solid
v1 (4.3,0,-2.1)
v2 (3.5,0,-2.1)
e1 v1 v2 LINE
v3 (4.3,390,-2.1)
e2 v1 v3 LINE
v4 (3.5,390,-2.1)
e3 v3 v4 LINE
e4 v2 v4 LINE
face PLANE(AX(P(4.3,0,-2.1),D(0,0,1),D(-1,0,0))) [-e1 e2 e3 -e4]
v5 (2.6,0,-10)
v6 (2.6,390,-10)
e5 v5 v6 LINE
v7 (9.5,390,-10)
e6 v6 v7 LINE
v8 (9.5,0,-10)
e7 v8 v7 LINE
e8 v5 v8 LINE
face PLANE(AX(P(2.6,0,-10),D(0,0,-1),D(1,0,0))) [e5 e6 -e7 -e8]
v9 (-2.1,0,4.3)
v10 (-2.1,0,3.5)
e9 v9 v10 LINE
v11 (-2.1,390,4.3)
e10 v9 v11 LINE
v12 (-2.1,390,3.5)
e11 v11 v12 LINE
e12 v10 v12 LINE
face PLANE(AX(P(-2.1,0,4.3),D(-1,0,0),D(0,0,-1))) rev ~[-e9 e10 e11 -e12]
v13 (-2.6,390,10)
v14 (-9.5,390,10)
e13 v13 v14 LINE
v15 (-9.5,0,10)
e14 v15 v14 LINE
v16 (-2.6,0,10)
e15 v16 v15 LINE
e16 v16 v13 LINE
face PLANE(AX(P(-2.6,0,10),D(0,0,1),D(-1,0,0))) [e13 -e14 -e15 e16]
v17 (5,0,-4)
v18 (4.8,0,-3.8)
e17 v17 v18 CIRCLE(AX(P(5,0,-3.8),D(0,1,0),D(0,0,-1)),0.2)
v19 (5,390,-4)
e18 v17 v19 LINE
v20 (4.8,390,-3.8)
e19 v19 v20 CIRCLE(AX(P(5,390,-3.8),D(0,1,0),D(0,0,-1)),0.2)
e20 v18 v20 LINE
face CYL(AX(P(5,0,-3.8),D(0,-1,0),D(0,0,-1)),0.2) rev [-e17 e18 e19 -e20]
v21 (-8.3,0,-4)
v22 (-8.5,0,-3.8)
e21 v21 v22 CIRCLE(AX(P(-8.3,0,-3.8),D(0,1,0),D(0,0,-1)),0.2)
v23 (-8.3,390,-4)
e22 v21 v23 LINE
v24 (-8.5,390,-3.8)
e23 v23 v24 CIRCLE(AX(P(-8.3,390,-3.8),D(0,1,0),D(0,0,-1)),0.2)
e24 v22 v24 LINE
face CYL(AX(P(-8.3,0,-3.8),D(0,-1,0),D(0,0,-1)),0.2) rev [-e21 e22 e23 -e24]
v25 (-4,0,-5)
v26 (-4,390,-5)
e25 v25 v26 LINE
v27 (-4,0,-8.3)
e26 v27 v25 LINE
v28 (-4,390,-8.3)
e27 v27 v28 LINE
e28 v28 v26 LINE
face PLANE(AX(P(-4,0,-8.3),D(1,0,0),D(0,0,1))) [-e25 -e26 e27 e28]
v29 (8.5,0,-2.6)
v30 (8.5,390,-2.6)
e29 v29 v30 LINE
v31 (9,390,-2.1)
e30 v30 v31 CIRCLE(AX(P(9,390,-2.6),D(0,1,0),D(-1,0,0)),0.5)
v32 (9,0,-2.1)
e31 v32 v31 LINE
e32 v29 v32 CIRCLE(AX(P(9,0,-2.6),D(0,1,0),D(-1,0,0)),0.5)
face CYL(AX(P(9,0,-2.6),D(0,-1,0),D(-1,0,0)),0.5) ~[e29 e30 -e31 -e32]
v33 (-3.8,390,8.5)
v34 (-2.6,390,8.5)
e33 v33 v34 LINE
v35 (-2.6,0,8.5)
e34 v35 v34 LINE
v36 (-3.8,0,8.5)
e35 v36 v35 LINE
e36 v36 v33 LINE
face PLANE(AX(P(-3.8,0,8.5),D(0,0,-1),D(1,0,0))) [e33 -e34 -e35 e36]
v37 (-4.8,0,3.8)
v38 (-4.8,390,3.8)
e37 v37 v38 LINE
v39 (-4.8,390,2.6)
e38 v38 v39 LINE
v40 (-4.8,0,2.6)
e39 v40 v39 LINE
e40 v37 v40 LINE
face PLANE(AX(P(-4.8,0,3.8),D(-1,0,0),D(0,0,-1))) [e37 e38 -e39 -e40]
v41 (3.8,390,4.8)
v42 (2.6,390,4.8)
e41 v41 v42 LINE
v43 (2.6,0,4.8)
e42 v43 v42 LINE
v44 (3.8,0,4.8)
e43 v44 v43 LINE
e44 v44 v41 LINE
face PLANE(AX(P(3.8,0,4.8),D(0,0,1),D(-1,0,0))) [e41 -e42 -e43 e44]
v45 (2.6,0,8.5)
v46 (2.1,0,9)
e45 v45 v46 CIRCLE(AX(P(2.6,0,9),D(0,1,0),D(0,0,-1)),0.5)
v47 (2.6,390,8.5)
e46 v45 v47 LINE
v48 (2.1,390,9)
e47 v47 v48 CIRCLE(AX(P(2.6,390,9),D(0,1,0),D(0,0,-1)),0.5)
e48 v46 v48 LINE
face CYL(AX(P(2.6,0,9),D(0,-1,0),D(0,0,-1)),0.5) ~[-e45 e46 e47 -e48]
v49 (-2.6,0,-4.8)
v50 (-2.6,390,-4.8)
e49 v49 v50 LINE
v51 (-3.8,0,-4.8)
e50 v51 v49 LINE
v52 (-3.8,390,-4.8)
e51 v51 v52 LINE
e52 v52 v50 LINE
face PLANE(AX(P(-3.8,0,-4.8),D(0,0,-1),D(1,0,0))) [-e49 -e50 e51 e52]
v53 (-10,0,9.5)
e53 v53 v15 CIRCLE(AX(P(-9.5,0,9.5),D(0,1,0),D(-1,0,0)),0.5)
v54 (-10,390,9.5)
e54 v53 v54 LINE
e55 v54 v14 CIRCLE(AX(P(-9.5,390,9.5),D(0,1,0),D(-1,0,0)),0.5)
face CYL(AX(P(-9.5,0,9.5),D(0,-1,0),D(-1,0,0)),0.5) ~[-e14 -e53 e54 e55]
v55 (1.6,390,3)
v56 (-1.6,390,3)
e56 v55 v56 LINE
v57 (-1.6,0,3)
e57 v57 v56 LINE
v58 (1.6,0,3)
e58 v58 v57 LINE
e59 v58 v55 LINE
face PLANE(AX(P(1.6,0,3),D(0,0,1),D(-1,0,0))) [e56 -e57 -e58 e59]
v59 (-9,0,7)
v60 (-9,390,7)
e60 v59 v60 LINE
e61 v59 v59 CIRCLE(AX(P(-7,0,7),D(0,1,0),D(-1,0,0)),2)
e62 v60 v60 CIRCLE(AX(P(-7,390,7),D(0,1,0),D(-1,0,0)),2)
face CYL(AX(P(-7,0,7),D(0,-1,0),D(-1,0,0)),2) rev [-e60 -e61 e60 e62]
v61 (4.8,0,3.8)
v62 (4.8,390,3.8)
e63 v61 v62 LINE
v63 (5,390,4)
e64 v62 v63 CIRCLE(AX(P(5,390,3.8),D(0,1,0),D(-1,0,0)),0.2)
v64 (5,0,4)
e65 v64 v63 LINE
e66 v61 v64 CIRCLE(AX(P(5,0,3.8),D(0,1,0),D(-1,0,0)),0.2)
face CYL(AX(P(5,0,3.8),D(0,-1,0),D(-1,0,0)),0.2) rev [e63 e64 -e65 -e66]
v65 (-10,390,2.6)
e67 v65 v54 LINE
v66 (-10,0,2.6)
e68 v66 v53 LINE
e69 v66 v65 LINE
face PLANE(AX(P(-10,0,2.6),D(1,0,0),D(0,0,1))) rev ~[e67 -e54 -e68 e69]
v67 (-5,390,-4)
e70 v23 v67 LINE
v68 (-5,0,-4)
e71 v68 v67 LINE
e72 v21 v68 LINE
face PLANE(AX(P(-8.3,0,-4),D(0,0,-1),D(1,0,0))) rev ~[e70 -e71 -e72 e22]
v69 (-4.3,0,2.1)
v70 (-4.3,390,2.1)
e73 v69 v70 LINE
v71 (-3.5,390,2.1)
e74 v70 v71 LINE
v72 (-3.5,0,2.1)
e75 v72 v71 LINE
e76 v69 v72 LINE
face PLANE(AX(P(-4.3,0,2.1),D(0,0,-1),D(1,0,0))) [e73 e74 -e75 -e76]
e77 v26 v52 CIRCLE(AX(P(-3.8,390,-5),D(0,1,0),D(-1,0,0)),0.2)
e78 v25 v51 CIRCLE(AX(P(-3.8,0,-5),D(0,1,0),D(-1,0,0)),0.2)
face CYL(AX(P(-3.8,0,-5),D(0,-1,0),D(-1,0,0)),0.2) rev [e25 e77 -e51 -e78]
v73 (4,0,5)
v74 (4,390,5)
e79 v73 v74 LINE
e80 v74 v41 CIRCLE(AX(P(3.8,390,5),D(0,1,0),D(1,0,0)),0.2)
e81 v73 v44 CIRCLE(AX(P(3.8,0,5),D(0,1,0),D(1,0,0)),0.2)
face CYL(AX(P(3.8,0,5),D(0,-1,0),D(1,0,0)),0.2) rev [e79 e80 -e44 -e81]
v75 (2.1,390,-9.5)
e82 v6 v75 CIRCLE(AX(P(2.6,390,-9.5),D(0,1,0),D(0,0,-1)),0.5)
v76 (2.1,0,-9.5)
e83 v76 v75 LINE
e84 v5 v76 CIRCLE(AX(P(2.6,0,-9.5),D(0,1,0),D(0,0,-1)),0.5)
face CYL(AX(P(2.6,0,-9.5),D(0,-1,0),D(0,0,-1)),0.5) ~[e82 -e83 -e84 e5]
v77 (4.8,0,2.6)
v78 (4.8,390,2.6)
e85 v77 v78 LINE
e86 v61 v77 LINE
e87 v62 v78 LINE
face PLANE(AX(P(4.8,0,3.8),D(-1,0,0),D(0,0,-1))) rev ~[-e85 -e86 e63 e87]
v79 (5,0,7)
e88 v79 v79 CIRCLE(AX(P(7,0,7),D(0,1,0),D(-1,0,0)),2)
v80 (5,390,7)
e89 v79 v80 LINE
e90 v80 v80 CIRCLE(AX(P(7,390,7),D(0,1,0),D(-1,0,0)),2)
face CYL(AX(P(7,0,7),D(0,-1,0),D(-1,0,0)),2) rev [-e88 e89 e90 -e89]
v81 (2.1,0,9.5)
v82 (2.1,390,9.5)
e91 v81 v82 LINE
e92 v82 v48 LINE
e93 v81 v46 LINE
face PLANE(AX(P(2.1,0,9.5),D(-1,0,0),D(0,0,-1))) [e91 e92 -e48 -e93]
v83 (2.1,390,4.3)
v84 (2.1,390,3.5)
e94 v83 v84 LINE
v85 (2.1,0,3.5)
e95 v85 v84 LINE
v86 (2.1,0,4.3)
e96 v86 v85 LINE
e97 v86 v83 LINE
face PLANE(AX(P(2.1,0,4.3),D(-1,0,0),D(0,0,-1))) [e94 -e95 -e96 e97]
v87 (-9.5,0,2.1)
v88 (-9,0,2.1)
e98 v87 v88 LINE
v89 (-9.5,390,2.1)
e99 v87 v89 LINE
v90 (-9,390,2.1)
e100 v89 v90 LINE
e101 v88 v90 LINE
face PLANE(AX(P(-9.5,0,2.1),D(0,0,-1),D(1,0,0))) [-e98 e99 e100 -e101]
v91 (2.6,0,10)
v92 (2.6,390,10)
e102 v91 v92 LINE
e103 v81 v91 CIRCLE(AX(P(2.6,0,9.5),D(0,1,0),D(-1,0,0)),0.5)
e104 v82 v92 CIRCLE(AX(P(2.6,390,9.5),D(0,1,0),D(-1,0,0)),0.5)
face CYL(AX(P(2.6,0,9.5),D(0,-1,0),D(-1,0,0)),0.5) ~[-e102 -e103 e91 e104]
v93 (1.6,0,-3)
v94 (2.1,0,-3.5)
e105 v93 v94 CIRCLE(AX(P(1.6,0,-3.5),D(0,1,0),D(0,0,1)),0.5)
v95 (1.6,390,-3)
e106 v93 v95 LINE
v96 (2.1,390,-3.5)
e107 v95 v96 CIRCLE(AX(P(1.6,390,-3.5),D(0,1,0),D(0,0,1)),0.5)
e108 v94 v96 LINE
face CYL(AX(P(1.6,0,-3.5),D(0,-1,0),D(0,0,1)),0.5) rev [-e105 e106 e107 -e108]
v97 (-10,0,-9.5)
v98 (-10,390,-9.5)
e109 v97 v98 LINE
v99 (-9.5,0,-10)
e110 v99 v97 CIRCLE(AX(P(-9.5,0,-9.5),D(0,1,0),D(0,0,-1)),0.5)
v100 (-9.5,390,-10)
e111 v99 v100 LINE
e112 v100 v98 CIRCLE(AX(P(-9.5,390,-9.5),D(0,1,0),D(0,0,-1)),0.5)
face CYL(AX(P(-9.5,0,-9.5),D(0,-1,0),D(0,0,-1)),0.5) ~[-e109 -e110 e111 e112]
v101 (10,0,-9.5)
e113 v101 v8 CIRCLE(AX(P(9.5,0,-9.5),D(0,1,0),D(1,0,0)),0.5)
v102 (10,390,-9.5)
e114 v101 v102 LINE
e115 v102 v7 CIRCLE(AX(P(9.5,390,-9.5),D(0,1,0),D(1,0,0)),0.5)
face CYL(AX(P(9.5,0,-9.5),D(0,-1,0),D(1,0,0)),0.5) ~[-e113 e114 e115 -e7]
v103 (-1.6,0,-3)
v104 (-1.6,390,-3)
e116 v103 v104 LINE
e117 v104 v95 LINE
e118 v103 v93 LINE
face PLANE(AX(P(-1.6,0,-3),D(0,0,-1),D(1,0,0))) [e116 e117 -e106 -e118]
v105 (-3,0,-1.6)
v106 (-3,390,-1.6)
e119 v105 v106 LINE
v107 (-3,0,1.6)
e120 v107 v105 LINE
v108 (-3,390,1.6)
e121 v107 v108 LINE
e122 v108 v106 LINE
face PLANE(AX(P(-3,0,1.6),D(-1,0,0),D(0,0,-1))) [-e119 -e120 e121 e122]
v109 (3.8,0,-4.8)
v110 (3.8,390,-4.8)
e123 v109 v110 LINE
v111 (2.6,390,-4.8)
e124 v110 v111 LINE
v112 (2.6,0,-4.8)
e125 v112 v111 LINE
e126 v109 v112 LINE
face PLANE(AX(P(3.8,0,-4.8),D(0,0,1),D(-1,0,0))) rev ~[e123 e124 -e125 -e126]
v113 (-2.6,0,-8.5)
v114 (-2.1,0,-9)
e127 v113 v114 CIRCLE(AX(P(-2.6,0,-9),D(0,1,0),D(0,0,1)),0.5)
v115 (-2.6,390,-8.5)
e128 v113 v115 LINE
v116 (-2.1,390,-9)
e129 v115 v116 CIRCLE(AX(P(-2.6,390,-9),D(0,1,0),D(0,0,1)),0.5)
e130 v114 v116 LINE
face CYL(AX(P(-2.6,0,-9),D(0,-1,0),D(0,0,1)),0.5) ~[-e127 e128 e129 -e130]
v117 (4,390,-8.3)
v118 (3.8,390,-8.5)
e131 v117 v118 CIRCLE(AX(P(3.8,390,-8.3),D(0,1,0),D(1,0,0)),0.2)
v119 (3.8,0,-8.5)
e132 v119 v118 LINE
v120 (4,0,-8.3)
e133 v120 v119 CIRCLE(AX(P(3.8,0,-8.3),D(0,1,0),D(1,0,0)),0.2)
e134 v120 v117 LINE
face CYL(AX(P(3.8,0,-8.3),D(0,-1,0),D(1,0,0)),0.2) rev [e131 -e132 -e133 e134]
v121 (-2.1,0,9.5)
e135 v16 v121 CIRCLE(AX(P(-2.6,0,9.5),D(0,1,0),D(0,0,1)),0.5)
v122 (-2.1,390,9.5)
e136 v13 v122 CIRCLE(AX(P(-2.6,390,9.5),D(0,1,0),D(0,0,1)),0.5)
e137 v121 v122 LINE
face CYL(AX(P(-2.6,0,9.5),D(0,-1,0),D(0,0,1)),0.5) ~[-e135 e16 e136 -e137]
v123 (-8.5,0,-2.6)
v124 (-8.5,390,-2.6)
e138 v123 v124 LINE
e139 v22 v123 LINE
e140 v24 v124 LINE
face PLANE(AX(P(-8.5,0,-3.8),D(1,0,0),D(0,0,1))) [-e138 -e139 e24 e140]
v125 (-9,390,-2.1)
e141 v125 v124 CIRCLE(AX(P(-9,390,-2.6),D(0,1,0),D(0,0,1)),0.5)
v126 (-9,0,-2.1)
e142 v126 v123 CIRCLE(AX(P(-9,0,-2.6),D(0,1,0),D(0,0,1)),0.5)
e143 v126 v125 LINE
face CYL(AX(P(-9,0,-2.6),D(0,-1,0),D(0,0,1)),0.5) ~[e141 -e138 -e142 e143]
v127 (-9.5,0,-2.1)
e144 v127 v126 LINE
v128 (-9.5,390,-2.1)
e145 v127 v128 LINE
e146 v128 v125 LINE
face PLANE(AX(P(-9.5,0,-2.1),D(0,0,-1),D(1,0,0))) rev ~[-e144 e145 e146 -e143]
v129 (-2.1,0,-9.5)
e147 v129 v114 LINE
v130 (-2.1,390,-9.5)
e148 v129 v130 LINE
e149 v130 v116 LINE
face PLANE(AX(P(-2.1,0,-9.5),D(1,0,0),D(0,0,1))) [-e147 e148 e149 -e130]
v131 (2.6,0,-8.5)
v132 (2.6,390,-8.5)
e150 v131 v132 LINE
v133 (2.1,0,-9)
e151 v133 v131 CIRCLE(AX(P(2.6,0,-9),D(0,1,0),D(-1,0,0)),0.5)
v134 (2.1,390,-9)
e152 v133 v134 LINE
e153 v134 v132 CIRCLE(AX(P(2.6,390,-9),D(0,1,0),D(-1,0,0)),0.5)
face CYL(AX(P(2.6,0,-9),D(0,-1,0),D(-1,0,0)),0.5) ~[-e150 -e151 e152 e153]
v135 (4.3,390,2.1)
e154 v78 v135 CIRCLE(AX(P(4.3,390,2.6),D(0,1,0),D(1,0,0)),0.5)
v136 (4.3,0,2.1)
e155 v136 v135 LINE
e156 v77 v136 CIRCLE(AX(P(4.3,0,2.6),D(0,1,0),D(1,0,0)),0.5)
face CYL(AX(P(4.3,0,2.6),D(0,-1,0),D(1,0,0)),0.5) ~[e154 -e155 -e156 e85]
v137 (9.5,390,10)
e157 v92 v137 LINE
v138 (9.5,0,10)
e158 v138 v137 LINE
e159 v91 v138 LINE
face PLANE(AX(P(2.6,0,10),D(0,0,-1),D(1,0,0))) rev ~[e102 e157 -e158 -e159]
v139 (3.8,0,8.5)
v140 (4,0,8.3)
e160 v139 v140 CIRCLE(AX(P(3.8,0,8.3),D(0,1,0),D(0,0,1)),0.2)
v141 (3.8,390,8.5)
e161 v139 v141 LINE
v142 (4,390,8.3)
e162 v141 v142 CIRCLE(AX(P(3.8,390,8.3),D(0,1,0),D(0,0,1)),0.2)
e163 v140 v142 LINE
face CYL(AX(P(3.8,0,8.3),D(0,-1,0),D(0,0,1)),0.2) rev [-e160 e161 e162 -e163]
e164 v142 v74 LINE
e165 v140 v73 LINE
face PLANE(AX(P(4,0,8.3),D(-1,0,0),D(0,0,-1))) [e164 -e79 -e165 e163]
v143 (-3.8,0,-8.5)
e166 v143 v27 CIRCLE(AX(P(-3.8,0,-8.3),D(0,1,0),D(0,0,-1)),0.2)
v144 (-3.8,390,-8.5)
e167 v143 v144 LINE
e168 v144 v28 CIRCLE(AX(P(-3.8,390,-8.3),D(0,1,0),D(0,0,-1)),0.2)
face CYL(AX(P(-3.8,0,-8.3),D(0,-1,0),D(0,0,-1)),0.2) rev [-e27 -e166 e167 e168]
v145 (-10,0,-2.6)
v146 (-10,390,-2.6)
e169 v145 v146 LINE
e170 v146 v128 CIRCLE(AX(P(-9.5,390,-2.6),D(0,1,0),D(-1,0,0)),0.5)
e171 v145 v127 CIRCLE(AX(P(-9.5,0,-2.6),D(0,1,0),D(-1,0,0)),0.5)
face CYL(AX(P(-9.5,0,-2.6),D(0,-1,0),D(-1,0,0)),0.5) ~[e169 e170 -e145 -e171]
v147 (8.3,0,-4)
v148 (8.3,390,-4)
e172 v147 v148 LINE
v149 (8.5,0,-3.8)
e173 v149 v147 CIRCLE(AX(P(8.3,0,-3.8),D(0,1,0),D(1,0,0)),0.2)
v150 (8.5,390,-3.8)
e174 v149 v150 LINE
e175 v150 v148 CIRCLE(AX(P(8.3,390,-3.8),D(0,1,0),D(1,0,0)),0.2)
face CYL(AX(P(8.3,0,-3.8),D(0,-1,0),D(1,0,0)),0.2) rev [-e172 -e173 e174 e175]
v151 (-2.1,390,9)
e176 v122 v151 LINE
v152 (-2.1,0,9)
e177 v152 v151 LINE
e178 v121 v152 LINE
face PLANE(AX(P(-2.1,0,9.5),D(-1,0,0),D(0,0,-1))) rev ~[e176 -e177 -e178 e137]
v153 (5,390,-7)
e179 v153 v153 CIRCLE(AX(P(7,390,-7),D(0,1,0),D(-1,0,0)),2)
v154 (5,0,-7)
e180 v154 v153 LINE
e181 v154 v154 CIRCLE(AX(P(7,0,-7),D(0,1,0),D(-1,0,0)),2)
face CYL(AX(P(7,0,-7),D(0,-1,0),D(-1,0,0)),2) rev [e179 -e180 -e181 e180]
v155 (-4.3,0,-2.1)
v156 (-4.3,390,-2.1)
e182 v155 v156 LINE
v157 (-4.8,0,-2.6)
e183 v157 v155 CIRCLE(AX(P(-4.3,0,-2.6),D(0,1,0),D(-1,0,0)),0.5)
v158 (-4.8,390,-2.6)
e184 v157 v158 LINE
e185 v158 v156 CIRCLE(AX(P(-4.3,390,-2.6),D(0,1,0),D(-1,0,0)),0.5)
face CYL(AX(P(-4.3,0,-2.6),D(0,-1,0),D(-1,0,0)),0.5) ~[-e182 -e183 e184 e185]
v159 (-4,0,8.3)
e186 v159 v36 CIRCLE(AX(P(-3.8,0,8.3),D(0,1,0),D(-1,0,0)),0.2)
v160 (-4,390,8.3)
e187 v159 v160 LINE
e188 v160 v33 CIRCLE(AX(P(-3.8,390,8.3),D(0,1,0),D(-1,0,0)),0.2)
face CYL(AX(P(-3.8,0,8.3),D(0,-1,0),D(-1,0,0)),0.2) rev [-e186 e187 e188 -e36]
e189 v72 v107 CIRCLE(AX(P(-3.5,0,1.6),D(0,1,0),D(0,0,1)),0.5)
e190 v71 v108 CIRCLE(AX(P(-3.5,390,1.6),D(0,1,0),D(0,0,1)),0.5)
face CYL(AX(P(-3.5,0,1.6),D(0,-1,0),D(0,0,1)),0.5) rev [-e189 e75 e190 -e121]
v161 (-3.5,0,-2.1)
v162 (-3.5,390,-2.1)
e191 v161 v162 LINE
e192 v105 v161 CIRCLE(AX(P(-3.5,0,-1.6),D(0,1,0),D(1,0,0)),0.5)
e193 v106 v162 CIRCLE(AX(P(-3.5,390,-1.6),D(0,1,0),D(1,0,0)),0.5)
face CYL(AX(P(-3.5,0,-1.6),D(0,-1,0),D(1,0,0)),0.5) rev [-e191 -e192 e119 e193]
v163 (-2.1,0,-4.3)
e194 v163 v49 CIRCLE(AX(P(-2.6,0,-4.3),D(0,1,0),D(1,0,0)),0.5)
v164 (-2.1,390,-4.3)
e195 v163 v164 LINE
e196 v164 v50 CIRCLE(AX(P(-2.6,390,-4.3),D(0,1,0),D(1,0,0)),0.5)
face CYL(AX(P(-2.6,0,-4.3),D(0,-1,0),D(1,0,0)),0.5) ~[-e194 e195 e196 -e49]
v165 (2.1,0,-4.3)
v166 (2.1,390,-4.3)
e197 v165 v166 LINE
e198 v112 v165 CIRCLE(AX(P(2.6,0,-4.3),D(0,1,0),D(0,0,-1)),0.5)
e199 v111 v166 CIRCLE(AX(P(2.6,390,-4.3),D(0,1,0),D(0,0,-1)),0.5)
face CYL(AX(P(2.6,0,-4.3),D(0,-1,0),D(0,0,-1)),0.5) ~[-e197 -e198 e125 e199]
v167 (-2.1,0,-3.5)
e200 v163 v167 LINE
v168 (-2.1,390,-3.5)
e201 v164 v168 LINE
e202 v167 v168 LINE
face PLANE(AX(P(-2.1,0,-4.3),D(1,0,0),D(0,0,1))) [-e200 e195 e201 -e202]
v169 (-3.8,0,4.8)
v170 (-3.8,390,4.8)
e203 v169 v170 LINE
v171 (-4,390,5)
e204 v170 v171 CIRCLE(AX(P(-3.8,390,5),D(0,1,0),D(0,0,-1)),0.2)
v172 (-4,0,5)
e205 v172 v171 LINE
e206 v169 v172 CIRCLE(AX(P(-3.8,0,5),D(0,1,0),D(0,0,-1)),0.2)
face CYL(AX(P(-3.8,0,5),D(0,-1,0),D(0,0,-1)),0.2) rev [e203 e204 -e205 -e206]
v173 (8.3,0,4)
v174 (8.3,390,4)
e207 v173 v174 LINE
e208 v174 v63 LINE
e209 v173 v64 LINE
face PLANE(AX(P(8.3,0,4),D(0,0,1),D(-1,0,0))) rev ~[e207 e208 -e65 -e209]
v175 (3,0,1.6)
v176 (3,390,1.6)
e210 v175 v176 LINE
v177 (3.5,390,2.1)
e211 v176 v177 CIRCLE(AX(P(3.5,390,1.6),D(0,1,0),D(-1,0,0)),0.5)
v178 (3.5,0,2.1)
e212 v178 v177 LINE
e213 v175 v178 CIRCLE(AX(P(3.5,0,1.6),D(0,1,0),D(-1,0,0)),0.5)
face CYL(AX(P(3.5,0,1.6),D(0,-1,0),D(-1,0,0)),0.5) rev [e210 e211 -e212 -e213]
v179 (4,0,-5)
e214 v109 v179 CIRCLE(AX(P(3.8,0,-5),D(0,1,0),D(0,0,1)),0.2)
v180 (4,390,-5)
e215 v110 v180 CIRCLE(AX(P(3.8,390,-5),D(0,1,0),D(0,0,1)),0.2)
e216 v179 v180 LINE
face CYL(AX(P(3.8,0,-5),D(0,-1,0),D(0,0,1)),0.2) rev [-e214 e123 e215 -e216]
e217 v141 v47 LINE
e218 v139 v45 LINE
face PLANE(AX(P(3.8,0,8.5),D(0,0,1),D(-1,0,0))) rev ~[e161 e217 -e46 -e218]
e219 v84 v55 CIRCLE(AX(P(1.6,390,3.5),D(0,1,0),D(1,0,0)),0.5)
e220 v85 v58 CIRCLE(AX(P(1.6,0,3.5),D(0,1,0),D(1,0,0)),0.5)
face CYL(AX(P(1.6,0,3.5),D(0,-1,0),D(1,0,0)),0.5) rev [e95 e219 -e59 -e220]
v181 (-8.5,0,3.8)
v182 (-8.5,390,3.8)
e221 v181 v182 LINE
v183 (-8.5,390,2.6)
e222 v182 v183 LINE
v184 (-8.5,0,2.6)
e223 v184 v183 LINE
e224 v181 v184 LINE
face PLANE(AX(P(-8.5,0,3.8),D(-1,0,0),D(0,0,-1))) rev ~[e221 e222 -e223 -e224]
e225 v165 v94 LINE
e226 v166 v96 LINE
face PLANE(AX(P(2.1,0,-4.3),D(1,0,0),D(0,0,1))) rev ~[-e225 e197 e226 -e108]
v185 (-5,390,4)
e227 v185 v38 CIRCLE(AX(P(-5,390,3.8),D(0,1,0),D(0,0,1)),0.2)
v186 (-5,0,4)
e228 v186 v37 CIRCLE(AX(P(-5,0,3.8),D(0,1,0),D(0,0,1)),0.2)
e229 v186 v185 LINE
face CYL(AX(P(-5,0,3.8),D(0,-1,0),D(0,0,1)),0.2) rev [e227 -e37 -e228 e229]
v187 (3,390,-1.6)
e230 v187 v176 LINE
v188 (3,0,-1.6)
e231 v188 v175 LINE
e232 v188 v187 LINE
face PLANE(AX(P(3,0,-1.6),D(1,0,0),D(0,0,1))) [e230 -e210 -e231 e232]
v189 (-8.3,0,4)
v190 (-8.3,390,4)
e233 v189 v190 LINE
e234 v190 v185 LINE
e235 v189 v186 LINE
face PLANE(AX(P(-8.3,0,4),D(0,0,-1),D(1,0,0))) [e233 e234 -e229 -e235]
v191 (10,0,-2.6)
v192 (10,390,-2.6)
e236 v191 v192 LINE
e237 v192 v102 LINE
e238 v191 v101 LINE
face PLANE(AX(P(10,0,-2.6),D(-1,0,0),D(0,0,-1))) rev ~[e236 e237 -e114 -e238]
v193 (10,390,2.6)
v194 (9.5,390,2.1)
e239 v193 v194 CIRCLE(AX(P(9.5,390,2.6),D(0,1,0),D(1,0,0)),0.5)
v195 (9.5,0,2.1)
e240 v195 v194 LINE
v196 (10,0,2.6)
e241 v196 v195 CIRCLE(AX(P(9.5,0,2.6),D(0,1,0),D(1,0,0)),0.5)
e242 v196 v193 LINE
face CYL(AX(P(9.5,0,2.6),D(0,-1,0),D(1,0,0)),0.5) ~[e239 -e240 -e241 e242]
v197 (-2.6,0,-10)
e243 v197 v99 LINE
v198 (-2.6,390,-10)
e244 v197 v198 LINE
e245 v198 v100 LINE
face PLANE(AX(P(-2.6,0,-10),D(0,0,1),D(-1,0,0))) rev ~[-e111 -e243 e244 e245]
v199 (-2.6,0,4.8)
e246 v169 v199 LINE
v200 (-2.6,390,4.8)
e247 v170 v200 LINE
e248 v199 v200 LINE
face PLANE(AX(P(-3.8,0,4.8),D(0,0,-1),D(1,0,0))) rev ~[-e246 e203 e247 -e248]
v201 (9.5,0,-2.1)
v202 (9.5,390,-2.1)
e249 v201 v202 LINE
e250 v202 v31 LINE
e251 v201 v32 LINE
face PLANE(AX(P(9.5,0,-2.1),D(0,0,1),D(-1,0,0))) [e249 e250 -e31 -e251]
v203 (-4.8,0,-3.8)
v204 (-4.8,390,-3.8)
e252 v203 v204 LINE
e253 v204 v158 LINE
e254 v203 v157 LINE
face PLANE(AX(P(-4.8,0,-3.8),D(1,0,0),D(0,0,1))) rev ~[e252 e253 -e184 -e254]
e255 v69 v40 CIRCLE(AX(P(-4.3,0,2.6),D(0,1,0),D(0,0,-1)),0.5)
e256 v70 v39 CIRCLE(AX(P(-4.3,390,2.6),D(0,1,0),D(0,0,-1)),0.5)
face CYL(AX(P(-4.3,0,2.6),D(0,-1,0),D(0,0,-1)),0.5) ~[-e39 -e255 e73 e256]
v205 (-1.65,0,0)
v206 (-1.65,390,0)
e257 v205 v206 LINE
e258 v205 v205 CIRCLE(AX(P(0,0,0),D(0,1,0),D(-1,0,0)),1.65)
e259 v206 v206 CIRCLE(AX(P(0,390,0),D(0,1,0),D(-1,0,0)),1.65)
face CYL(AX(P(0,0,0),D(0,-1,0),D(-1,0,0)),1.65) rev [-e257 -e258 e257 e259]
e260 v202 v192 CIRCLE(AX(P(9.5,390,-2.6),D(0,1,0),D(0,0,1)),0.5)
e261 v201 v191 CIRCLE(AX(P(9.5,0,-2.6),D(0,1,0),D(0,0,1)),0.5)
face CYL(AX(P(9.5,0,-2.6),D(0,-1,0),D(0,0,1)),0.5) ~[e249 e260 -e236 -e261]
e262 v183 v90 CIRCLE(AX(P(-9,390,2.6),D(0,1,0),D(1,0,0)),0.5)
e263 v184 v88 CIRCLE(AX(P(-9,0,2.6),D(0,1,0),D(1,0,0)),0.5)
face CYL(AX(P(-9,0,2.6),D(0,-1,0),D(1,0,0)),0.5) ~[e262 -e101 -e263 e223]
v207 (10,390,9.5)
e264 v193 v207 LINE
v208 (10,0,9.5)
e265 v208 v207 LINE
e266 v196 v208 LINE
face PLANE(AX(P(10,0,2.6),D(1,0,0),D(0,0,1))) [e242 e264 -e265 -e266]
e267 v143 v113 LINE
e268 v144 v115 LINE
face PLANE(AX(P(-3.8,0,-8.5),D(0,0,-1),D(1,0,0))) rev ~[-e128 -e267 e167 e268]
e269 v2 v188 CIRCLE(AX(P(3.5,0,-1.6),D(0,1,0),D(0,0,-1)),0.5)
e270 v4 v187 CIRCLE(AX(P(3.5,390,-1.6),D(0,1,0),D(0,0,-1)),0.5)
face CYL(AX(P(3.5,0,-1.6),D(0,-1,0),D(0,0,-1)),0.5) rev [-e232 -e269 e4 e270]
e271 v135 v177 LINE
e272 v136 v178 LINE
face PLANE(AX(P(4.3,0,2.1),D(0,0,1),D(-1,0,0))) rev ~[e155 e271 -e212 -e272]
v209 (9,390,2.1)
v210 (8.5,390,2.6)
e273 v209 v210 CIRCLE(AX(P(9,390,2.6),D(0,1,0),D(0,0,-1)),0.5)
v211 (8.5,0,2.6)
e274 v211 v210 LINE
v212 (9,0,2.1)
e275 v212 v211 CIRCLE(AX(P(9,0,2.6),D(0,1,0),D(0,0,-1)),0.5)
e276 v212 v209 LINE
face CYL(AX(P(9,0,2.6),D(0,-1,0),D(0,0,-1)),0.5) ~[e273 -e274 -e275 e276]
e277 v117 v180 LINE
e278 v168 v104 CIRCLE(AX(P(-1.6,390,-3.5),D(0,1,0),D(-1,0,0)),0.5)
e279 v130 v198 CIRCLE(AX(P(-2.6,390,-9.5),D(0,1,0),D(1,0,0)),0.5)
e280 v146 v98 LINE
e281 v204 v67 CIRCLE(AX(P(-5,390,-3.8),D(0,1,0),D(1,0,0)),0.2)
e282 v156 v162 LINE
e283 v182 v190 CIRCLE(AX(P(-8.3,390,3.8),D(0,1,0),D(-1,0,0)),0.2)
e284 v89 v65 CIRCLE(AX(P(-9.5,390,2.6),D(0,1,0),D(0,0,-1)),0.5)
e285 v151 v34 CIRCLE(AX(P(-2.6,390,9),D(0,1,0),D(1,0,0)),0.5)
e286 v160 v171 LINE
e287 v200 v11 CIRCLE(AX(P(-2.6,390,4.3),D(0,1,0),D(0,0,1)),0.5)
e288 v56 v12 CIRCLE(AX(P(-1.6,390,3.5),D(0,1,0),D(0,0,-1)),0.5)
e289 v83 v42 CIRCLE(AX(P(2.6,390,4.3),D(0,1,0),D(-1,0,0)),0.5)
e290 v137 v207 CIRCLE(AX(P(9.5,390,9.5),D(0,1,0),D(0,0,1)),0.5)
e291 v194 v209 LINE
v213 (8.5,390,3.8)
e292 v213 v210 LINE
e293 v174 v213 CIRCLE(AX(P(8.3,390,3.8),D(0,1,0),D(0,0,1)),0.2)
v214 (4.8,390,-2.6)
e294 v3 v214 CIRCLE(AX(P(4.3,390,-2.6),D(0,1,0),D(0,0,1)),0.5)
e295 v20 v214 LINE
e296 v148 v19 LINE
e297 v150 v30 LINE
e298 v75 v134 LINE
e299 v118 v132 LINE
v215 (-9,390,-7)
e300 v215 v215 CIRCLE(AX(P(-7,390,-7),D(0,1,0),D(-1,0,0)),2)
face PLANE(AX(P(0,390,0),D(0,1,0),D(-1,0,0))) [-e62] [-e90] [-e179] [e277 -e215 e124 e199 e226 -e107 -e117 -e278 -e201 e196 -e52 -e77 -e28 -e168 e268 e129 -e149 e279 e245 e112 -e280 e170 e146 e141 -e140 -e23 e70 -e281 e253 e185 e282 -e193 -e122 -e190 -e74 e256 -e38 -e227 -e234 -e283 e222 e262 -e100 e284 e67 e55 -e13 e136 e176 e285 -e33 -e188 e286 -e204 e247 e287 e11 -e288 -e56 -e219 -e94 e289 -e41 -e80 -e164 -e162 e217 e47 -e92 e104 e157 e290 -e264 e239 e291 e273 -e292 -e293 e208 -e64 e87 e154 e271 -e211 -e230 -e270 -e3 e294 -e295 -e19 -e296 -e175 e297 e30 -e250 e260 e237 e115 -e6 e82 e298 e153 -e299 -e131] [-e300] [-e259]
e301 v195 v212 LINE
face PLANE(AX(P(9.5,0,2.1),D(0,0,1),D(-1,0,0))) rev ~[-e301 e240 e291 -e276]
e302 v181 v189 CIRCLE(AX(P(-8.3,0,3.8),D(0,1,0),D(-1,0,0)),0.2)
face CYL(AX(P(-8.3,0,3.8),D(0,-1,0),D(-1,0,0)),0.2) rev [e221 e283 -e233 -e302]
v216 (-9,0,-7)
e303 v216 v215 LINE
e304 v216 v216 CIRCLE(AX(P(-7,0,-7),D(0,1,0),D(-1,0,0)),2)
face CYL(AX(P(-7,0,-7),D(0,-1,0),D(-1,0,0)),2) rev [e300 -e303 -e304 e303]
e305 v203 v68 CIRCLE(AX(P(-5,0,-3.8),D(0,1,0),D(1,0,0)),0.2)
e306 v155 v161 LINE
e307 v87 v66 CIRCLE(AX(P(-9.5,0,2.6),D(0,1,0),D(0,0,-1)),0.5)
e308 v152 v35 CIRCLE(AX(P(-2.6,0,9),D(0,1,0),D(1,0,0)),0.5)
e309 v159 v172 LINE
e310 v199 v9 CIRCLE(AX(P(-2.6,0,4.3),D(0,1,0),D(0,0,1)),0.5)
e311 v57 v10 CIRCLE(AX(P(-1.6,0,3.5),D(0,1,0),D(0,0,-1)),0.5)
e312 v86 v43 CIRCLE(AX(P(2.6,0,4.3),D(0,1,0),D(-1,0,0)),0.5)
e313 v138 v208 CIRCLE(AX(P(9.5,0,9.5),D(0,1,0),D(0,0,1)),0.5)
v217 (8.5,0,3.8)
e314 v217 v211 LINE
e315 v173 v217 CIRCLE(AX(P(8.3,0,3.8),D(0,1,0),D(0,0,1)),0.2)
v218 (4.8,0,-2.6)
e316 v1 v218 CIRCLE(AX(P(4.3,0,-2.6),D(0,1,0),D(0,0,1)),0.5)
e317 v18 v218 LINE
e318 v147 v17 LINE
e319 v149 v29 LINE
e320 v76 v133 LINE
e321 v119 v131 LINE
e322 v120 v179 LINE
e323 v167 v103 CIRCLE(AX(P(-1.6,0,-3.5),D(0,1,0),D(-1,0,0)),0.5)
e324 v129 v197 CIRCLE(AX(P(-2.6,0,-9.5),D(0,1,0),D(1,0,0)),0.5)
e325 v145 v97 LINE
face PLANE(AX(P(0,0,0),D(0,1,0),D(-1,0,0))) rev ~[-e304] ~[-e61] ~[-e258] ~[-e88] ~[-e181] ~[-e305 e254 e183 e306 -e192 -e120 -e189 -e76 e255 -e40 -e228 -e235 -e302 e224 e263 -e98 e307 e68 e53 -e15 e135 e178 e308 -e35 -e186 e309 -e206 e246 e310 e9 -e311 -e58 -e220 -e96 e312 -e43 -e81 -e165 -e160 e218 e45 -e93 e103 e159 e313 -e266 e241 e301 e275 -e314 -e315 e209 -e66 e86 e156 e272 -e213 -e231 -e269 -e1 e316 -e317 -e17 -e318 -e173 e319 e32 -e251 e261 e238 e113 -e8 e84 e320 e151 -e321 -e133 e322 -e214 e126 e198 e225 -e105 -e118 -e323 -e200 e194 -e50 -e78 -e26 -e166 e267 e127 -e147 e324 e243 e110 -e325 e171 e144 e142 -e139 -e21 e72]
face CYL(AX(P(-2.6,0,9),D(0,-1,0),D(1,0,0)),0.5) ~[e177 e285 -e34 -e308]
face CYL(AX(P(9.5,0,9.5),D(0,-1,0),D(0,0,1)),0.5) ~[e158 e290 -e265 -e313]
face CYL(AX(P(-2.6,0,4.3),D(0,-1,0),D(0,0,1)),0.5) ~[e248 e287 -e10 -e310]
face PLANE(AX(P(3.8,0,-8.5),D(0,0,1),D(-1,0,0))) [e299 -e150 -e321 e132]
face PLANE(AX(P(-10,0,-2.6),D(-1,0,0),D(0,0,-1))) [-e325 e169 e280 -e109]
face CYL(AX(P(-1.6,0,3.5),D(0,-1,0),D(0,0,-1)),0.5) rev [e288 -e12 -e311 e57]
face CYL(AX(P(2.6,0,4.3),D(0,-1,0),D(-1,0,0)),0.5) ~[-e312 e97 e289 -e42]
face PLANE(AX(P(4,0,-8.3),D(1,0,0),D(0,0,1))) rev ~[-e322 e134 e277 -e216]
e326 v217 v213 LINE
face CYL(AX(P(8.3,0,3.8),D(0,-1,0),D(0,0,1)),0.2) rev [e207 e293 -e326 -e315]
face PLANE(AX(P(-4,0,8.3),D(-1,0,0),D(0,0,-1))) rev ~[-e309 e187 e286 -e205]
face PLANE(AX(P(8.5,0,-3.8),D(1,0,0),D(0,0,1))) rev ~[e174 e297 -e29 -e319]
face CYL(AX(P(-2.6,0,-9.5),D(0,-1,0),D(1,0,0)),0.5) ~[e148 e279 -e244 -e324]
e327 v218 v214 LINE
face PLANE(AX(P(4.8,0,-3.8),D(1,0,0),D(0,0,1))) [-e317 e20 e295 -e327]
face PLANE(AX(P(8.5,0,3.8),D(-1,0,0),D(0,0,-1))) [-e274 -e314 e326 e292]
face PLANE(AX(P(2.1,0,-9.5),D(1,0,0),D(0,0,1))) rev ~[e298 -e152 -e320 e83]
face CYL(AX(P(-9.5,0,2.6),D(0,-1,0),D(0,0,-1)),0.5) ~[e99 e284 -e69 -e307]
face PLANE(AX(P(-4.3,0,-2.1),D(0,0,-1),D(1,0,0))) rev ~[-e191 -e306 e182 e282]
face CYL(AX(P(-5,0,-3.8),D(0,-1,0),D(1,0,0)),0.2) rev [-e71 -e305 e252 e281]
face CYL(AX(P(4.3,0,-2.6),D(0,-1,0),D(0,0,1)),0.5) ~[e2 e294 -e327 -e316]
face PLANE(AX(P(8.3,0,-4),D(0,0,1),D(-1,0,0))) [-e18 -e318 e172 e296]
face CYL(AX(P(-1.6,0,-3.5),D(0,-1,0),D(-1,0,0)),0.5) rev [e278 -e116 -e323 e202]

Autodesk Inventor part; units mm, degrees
ref_plane "YZ Plane" through (0, 0, 0) normal (1, 0, 0) x (0, 1, 0)
ref_plane "開始平面" through (0, 0, 0) normal (0, 1, 0) x (-1, 0, 0)
ref_plane "終了平面" through (0, 390, 0) normal (0, 1, 0) x (-1, 0, 0)
sketch "スケッチ" plane through (0, 0, 0) normal (0, 1, 0) x (-1, 0, 0)
  line L0 (8.5, -3.8) -> (8.5, -2.6)
  line L1 (4, -8.3) -> (4, -5)
  circle A0 centre (7, -7) radius 2
  line L2 (10, -2.6) -> (10, -9.5)
  line L3 (2.6, -10) -> (9.5, -10)
  line L4 (2.1, -9.5) -> (2.1, -9)
  line L5 (8.5, -2.1) -> (8.5, -4)
  line L6 (3.8, -4.8) -> (2.6, -4.8)
  line L7 (4.8, -3.8) -> (4.8, -2.6)
  arc A1 (2.1, -4.3) -> (2.6, -4.8) centre (2.6, -4.3) ccw
  arc A2 (2.6, -8.5) -> (2.1, -9) centre (2.6, -9) ccw
  arc A3 (3.8, -8.5) -> (4, -8.3) centre (3.8, -8.3) ccw
  arc A4 (4, -5) -> (3.8, -4.8) centre (3.8, -5) ccw
  arc A5 (2.1, -3.5) -> (1.6, -3) centre (1.6, -3.5) ccw
  arc A6 (2.1, -9.5) -> (2.6, -10) centre (2.6, -9.5) ccw
  arc A7 (9.5, -10) -> (10, -9.5) centre (9.5, -9.5) ccw
  arc A8 (10, -2.6) -> (9.5, -2.1) centre (9.5, -2.6) ccw
  arc A9 (9, -2.1) -> (8.5, -2.6) centre (9, -2.6) ccw
  arc A10 (8.3, -4) -> (8.5, -3.8) centre (8.3, -3.8) ccw
  arc A11 (4.8, -3.8) -> (5, -4) centre (5, -3.8) ccw
  line L8 (4.3, -2.1) -> (3.5, -2.1)
  arc A12 (4.8, -2.6) -> (4.3, -2.1) centre (4.3, -2.6) ccw
  arc A13 (3, -1.6) -> (3.5, -2.1) centre (3.5, -1.6) ccw
  line L9 (2.1, -4.3) -> (2.1, -3.5)
  line L10 (3.8, -8.5) -> (2.6, -8.5)
  line L11 (9.5, -2.1) -> (9, -2.1)
  line L12 (8.3, -4) -> (5, -4)
  circle A14 centre (0, 0) radius 1.65
  arc A15 (8.5, 2.6) -> (9, 2.1) centre (9, 2.6) ccw
  line L13 (8.5, 3.8) -> (8.5, 2.6)
  arc A16 (8.5, 3.8) -> (8.3, 4) centre (8.3, 3.8) ccw
  line L14 (8.3, 4) -> (5, 4)
  line L15 (10, 2.6) -> (10, 9.5)
  arc A17 (10, 9.5) -> (9.5, 10) centre (9.5, 9.5) ccw
  circle A18 centre (7, 7) radius 2
  line L16 (4, 8.3) -> (4, 5)
  line L17 (2.6, 10) -> (9.5, 10)
  line L18 (9.5, 2.1) -> (9, 2.1)
  arc A19 (9.5, 2.1) -> (10, 2.6) centre (9.5, 2.6) ccw
  line L19 (3.8, 8.5) -> (2.6, 8.5)
  line L20 (4.8, 3.8) -> (4.8, 2.6)
  arc A20 (4.3, 2.1) -> (4.8, 2.6) centre (4.3, 2.6) ccw
  line L21 (2.1, 8.5) -> (4, 8.5)
  arc A21 (4, 8.3) -> (3.8, 8.5) centre (3.8, 8.3) ccw
  arc A22 (2.1, 9) -> (2.6, 8.5) centre (2.6, 9) ccw
  arc A23 (2.6, 10) -> (2.1, 9.5) centre (2.6, 9.5) ccw
  line L22 (2.1, 9.5) -> (2.1, 9)
  arc A24 (1.6, 3) -> (2.1, 3.5) centre (1.6, 3.5) ccw
  line L23 (3.8, 4.8) -> (2.6, 4.8)
  arc A25 (5, 4) -> (4.8, 3.8) centre (5, 3.8) ccw
  arc A26 (3.8, 4.8) -> (4, 5) centre (3.8, 5) ccw
  line L24 (4.3, 2.1) -> (3.5, 2.1)
  arc A27 (2.6, 4.8) -> (2.1, 4.3) centre (2.6, 4.3) ccw
  line L25 (2.1, 4.3) -> (2.1, 3.5)
  arc A28 (3.5, 2.1) -> (3, 1.6) centre (3.5, 1.6) ccw
  arc A29 (-2.6, 8.5) -> (-2.1, 9) centre (-2.6, 9) ccw
  line L26 (-3.8, 8.5) -> (-2.6, 8.5)
  arc A30 (-3.8, 8.5) -> (-4, 8.3) centre (-3.8, 8.3) ccw
  line L27 (-4, 8.3) -> (-4, 5)
  line L28 (-2.6, 10) -> (-9.5, 10)
  arc A31 (-9.5, 10) -> (-10, 9.5) centre (-9.5, 9.5) ccw
  circle A32 centre (-7, 7) radius 2
  line L29 (-8.3, 4) -> (-5, 4)
  line L30 (-10, 2.6) -> (-10, 9.5)
  line L31 (-2.1, 9.5) -> (-2.1, 9)
  arc A33 (-2.1, 9.5) -> (-2.6, 10) centre (-2.6, 9.5) ccw
  line L32 (-8.5, 3.8) -> (-8.5, 2.6)
  line L33 (-3.8, 4.8) -> (-2.6, 4.8)
  arc A34 (-2.1, 4.3) -> (-2.6, 4.8) centre (-2.6, 4.3) ccw
  line L34 (-8.5, 2.1) -> (-8.5, 4)
  arc A35 (-8.3, 4) -> (-8.5, 3.8) centre (-8.3, 3.8) ccw
  arc A36 (-9, 2.1) -> (-8.5, 2.6) centre (-9, 2.6) ccw
  arc A37 (-10, 2.6) -> (-9.5, 2.1) centre (-9.5, 2.6) ccw
  line L35 (-9.5, 2.1) -> (-9, 2.1)
  arc A38 (-3, 1.6) -> (-3.5, 2.1) centre (-3.5, 1.6) ccw
  line L36 (-4.8, 3.8) -> (-4.8, 2.6)
  arc A39 (-4, 5) -> (-3.8, 4.8) centre (-3.8, 5) ccw
  arc A40 (-4.8, 3.8) -> (-5, 4) centre (-5, 3.8) ccw
  line L37 (-2.1, 4.3) -> (-2.1, 3.5)
  arc A41 (-4.8, 2.6) -> (-4.3, 2.1) centre (-4.3, 2.6) ccw
  line L38 (-4.3, 2.1) -> (-3.5, 2.1)
  arc A42 (-2.1, 3.5) -> (-1.6, 3) centre (-1.6, 3.5) ccw
  arc A43 (-8.5, -2.6) -> (-9, -2.1) centre (-9, -2.6) ccw
  line L39 (-8.5, -3.8) -> (-8.5, -2.6)
  arc A44 (-8.5, -3.8) -> (-8.3, -4) centre (-8.3, -3.8) ccw
  line L40 (-8.3, -4) -> (-5, -4)
  line L41 (-10, -2.6) -> (-10, -9.5)
  arc A45 (-10, -9.5) -> (-9.5, -10) centre (-9.5, -9.5) ccw
  circle A46 centre (-7, -7) radius 2
  line L42 (-4, -8.3) -> (-4, -5)
  line L43 (-2.6, -10) -> (-9.5, -10)
  line L44 (-9.5, -2.1) -> (-9, -2.1)
  arc A47 (-9.5, -2.1) -> (-10, -2.6) centre (-9.5, -2.6) ccw
  line L45 (-3.8, -8.5) -> (-2.6, -8.5)
  line L46 (-4.8, -3.8) -> (-4.8, -2.6)
  arc A48 (-4.3, -2.1) -> (-4.8, -2.6) centre (-4.3, -2.6) ccw
  line L47 (-2.1, -8.5) -> (-4, -8.5)
  arc A49 (-4, -8.3) -> (-3.8, -8.5) centre (-3.8, -8.3) ccw
  arc A50 (-2.1, -9) -> (-2.6, -8.5) centre (-2.6, -9) ccw
  arc A51 (-2.6, -10) -> (-2.1, -9.5) centre (-2.6, -9.5) ccw
  line L48 (-2.1, -9.5) -> (-2.1, -9)
  arc A52 (-1.6, -3) -> (-2.1, -3.5) centre (-1.6, -3.5) ccw
  line L49 (-3.8, -4.8) -> (-2.6, -4.8)
  arc A53 (-5, -4) -> (-4.8, -3.8) centre (-5, -3.8) ccw
  arc A54 (-3.8, -4.8) -> (-4, -5) centre (-3.8, -5) ccw
  line L50 (-4.3, -2.1) -> (-3.5, -2.1)
  arc A55 (-2.6, -4.8) -> (-2.1, -4.3) centre (-2.6, -4.3) ccw
  line L51 (-2.1, -4.3) -> (-2.1, -3.5)
  arc A56 (-3.5, -2.1) -> (-3, -1.6) centre (-3.5, -1.6) ccw
  line L52 (1.6, -3) -> (-1.6, -3)
  line L53 (-3, -1.6) -> (-3, 1.6)
  line L54 (-1.6, 3) -> (1.6, 3)
  line L55 (3, 1.6) -> (3, -1.6)
  point P0 (2.1, -10)
  point P1 (10, 2.1)
  point P2 (-2.1, 10)
  point P3 (-10, -2.1)
  dimension "d12" = 4
  dimension "d14" = 3.7
  dimension "d16" = 0.5
  dimension "d17" = 0.5
  dimension "d18" = 0.2
  dimension "d19" = 0.5
  dimension "d20" = 0.5
  dimension "d24" = 0.5
  dimension "d25" = 0.2
  dimension "d28" = 0.5
  dimension "d31" = 1.5
  dimension "d36" = 3.7
  dimension "d37" = 1.5
  dimension "d58" = 3.3
  dimension "d65" = 10
  dimension "d67" = 2.1
  dimension "d68" = 2.1
  dimension "d69" = 1.9
  dimension "d70" = 7
  dimension "d72" = 2.1
  dimension "d73" = 2.1
  dimension "d74" = 1.9
  dimension "d75" = 7
  dimension "d76" = 10
  dimension "d80" = 360
  dimension "d82" = 3
extrude "ボディ" add sketch "スケッチ" along normal up to surface (390 mm away) from surface at 0
equation "\"G_OFFSET_START\" = 0"
equation "\"G_OFFSET_END\" = 0"
equation "\"G_L\" = d90"
equation "\"d90\" = 330"
properties part number "s430" material "アルミニウム 6061"
